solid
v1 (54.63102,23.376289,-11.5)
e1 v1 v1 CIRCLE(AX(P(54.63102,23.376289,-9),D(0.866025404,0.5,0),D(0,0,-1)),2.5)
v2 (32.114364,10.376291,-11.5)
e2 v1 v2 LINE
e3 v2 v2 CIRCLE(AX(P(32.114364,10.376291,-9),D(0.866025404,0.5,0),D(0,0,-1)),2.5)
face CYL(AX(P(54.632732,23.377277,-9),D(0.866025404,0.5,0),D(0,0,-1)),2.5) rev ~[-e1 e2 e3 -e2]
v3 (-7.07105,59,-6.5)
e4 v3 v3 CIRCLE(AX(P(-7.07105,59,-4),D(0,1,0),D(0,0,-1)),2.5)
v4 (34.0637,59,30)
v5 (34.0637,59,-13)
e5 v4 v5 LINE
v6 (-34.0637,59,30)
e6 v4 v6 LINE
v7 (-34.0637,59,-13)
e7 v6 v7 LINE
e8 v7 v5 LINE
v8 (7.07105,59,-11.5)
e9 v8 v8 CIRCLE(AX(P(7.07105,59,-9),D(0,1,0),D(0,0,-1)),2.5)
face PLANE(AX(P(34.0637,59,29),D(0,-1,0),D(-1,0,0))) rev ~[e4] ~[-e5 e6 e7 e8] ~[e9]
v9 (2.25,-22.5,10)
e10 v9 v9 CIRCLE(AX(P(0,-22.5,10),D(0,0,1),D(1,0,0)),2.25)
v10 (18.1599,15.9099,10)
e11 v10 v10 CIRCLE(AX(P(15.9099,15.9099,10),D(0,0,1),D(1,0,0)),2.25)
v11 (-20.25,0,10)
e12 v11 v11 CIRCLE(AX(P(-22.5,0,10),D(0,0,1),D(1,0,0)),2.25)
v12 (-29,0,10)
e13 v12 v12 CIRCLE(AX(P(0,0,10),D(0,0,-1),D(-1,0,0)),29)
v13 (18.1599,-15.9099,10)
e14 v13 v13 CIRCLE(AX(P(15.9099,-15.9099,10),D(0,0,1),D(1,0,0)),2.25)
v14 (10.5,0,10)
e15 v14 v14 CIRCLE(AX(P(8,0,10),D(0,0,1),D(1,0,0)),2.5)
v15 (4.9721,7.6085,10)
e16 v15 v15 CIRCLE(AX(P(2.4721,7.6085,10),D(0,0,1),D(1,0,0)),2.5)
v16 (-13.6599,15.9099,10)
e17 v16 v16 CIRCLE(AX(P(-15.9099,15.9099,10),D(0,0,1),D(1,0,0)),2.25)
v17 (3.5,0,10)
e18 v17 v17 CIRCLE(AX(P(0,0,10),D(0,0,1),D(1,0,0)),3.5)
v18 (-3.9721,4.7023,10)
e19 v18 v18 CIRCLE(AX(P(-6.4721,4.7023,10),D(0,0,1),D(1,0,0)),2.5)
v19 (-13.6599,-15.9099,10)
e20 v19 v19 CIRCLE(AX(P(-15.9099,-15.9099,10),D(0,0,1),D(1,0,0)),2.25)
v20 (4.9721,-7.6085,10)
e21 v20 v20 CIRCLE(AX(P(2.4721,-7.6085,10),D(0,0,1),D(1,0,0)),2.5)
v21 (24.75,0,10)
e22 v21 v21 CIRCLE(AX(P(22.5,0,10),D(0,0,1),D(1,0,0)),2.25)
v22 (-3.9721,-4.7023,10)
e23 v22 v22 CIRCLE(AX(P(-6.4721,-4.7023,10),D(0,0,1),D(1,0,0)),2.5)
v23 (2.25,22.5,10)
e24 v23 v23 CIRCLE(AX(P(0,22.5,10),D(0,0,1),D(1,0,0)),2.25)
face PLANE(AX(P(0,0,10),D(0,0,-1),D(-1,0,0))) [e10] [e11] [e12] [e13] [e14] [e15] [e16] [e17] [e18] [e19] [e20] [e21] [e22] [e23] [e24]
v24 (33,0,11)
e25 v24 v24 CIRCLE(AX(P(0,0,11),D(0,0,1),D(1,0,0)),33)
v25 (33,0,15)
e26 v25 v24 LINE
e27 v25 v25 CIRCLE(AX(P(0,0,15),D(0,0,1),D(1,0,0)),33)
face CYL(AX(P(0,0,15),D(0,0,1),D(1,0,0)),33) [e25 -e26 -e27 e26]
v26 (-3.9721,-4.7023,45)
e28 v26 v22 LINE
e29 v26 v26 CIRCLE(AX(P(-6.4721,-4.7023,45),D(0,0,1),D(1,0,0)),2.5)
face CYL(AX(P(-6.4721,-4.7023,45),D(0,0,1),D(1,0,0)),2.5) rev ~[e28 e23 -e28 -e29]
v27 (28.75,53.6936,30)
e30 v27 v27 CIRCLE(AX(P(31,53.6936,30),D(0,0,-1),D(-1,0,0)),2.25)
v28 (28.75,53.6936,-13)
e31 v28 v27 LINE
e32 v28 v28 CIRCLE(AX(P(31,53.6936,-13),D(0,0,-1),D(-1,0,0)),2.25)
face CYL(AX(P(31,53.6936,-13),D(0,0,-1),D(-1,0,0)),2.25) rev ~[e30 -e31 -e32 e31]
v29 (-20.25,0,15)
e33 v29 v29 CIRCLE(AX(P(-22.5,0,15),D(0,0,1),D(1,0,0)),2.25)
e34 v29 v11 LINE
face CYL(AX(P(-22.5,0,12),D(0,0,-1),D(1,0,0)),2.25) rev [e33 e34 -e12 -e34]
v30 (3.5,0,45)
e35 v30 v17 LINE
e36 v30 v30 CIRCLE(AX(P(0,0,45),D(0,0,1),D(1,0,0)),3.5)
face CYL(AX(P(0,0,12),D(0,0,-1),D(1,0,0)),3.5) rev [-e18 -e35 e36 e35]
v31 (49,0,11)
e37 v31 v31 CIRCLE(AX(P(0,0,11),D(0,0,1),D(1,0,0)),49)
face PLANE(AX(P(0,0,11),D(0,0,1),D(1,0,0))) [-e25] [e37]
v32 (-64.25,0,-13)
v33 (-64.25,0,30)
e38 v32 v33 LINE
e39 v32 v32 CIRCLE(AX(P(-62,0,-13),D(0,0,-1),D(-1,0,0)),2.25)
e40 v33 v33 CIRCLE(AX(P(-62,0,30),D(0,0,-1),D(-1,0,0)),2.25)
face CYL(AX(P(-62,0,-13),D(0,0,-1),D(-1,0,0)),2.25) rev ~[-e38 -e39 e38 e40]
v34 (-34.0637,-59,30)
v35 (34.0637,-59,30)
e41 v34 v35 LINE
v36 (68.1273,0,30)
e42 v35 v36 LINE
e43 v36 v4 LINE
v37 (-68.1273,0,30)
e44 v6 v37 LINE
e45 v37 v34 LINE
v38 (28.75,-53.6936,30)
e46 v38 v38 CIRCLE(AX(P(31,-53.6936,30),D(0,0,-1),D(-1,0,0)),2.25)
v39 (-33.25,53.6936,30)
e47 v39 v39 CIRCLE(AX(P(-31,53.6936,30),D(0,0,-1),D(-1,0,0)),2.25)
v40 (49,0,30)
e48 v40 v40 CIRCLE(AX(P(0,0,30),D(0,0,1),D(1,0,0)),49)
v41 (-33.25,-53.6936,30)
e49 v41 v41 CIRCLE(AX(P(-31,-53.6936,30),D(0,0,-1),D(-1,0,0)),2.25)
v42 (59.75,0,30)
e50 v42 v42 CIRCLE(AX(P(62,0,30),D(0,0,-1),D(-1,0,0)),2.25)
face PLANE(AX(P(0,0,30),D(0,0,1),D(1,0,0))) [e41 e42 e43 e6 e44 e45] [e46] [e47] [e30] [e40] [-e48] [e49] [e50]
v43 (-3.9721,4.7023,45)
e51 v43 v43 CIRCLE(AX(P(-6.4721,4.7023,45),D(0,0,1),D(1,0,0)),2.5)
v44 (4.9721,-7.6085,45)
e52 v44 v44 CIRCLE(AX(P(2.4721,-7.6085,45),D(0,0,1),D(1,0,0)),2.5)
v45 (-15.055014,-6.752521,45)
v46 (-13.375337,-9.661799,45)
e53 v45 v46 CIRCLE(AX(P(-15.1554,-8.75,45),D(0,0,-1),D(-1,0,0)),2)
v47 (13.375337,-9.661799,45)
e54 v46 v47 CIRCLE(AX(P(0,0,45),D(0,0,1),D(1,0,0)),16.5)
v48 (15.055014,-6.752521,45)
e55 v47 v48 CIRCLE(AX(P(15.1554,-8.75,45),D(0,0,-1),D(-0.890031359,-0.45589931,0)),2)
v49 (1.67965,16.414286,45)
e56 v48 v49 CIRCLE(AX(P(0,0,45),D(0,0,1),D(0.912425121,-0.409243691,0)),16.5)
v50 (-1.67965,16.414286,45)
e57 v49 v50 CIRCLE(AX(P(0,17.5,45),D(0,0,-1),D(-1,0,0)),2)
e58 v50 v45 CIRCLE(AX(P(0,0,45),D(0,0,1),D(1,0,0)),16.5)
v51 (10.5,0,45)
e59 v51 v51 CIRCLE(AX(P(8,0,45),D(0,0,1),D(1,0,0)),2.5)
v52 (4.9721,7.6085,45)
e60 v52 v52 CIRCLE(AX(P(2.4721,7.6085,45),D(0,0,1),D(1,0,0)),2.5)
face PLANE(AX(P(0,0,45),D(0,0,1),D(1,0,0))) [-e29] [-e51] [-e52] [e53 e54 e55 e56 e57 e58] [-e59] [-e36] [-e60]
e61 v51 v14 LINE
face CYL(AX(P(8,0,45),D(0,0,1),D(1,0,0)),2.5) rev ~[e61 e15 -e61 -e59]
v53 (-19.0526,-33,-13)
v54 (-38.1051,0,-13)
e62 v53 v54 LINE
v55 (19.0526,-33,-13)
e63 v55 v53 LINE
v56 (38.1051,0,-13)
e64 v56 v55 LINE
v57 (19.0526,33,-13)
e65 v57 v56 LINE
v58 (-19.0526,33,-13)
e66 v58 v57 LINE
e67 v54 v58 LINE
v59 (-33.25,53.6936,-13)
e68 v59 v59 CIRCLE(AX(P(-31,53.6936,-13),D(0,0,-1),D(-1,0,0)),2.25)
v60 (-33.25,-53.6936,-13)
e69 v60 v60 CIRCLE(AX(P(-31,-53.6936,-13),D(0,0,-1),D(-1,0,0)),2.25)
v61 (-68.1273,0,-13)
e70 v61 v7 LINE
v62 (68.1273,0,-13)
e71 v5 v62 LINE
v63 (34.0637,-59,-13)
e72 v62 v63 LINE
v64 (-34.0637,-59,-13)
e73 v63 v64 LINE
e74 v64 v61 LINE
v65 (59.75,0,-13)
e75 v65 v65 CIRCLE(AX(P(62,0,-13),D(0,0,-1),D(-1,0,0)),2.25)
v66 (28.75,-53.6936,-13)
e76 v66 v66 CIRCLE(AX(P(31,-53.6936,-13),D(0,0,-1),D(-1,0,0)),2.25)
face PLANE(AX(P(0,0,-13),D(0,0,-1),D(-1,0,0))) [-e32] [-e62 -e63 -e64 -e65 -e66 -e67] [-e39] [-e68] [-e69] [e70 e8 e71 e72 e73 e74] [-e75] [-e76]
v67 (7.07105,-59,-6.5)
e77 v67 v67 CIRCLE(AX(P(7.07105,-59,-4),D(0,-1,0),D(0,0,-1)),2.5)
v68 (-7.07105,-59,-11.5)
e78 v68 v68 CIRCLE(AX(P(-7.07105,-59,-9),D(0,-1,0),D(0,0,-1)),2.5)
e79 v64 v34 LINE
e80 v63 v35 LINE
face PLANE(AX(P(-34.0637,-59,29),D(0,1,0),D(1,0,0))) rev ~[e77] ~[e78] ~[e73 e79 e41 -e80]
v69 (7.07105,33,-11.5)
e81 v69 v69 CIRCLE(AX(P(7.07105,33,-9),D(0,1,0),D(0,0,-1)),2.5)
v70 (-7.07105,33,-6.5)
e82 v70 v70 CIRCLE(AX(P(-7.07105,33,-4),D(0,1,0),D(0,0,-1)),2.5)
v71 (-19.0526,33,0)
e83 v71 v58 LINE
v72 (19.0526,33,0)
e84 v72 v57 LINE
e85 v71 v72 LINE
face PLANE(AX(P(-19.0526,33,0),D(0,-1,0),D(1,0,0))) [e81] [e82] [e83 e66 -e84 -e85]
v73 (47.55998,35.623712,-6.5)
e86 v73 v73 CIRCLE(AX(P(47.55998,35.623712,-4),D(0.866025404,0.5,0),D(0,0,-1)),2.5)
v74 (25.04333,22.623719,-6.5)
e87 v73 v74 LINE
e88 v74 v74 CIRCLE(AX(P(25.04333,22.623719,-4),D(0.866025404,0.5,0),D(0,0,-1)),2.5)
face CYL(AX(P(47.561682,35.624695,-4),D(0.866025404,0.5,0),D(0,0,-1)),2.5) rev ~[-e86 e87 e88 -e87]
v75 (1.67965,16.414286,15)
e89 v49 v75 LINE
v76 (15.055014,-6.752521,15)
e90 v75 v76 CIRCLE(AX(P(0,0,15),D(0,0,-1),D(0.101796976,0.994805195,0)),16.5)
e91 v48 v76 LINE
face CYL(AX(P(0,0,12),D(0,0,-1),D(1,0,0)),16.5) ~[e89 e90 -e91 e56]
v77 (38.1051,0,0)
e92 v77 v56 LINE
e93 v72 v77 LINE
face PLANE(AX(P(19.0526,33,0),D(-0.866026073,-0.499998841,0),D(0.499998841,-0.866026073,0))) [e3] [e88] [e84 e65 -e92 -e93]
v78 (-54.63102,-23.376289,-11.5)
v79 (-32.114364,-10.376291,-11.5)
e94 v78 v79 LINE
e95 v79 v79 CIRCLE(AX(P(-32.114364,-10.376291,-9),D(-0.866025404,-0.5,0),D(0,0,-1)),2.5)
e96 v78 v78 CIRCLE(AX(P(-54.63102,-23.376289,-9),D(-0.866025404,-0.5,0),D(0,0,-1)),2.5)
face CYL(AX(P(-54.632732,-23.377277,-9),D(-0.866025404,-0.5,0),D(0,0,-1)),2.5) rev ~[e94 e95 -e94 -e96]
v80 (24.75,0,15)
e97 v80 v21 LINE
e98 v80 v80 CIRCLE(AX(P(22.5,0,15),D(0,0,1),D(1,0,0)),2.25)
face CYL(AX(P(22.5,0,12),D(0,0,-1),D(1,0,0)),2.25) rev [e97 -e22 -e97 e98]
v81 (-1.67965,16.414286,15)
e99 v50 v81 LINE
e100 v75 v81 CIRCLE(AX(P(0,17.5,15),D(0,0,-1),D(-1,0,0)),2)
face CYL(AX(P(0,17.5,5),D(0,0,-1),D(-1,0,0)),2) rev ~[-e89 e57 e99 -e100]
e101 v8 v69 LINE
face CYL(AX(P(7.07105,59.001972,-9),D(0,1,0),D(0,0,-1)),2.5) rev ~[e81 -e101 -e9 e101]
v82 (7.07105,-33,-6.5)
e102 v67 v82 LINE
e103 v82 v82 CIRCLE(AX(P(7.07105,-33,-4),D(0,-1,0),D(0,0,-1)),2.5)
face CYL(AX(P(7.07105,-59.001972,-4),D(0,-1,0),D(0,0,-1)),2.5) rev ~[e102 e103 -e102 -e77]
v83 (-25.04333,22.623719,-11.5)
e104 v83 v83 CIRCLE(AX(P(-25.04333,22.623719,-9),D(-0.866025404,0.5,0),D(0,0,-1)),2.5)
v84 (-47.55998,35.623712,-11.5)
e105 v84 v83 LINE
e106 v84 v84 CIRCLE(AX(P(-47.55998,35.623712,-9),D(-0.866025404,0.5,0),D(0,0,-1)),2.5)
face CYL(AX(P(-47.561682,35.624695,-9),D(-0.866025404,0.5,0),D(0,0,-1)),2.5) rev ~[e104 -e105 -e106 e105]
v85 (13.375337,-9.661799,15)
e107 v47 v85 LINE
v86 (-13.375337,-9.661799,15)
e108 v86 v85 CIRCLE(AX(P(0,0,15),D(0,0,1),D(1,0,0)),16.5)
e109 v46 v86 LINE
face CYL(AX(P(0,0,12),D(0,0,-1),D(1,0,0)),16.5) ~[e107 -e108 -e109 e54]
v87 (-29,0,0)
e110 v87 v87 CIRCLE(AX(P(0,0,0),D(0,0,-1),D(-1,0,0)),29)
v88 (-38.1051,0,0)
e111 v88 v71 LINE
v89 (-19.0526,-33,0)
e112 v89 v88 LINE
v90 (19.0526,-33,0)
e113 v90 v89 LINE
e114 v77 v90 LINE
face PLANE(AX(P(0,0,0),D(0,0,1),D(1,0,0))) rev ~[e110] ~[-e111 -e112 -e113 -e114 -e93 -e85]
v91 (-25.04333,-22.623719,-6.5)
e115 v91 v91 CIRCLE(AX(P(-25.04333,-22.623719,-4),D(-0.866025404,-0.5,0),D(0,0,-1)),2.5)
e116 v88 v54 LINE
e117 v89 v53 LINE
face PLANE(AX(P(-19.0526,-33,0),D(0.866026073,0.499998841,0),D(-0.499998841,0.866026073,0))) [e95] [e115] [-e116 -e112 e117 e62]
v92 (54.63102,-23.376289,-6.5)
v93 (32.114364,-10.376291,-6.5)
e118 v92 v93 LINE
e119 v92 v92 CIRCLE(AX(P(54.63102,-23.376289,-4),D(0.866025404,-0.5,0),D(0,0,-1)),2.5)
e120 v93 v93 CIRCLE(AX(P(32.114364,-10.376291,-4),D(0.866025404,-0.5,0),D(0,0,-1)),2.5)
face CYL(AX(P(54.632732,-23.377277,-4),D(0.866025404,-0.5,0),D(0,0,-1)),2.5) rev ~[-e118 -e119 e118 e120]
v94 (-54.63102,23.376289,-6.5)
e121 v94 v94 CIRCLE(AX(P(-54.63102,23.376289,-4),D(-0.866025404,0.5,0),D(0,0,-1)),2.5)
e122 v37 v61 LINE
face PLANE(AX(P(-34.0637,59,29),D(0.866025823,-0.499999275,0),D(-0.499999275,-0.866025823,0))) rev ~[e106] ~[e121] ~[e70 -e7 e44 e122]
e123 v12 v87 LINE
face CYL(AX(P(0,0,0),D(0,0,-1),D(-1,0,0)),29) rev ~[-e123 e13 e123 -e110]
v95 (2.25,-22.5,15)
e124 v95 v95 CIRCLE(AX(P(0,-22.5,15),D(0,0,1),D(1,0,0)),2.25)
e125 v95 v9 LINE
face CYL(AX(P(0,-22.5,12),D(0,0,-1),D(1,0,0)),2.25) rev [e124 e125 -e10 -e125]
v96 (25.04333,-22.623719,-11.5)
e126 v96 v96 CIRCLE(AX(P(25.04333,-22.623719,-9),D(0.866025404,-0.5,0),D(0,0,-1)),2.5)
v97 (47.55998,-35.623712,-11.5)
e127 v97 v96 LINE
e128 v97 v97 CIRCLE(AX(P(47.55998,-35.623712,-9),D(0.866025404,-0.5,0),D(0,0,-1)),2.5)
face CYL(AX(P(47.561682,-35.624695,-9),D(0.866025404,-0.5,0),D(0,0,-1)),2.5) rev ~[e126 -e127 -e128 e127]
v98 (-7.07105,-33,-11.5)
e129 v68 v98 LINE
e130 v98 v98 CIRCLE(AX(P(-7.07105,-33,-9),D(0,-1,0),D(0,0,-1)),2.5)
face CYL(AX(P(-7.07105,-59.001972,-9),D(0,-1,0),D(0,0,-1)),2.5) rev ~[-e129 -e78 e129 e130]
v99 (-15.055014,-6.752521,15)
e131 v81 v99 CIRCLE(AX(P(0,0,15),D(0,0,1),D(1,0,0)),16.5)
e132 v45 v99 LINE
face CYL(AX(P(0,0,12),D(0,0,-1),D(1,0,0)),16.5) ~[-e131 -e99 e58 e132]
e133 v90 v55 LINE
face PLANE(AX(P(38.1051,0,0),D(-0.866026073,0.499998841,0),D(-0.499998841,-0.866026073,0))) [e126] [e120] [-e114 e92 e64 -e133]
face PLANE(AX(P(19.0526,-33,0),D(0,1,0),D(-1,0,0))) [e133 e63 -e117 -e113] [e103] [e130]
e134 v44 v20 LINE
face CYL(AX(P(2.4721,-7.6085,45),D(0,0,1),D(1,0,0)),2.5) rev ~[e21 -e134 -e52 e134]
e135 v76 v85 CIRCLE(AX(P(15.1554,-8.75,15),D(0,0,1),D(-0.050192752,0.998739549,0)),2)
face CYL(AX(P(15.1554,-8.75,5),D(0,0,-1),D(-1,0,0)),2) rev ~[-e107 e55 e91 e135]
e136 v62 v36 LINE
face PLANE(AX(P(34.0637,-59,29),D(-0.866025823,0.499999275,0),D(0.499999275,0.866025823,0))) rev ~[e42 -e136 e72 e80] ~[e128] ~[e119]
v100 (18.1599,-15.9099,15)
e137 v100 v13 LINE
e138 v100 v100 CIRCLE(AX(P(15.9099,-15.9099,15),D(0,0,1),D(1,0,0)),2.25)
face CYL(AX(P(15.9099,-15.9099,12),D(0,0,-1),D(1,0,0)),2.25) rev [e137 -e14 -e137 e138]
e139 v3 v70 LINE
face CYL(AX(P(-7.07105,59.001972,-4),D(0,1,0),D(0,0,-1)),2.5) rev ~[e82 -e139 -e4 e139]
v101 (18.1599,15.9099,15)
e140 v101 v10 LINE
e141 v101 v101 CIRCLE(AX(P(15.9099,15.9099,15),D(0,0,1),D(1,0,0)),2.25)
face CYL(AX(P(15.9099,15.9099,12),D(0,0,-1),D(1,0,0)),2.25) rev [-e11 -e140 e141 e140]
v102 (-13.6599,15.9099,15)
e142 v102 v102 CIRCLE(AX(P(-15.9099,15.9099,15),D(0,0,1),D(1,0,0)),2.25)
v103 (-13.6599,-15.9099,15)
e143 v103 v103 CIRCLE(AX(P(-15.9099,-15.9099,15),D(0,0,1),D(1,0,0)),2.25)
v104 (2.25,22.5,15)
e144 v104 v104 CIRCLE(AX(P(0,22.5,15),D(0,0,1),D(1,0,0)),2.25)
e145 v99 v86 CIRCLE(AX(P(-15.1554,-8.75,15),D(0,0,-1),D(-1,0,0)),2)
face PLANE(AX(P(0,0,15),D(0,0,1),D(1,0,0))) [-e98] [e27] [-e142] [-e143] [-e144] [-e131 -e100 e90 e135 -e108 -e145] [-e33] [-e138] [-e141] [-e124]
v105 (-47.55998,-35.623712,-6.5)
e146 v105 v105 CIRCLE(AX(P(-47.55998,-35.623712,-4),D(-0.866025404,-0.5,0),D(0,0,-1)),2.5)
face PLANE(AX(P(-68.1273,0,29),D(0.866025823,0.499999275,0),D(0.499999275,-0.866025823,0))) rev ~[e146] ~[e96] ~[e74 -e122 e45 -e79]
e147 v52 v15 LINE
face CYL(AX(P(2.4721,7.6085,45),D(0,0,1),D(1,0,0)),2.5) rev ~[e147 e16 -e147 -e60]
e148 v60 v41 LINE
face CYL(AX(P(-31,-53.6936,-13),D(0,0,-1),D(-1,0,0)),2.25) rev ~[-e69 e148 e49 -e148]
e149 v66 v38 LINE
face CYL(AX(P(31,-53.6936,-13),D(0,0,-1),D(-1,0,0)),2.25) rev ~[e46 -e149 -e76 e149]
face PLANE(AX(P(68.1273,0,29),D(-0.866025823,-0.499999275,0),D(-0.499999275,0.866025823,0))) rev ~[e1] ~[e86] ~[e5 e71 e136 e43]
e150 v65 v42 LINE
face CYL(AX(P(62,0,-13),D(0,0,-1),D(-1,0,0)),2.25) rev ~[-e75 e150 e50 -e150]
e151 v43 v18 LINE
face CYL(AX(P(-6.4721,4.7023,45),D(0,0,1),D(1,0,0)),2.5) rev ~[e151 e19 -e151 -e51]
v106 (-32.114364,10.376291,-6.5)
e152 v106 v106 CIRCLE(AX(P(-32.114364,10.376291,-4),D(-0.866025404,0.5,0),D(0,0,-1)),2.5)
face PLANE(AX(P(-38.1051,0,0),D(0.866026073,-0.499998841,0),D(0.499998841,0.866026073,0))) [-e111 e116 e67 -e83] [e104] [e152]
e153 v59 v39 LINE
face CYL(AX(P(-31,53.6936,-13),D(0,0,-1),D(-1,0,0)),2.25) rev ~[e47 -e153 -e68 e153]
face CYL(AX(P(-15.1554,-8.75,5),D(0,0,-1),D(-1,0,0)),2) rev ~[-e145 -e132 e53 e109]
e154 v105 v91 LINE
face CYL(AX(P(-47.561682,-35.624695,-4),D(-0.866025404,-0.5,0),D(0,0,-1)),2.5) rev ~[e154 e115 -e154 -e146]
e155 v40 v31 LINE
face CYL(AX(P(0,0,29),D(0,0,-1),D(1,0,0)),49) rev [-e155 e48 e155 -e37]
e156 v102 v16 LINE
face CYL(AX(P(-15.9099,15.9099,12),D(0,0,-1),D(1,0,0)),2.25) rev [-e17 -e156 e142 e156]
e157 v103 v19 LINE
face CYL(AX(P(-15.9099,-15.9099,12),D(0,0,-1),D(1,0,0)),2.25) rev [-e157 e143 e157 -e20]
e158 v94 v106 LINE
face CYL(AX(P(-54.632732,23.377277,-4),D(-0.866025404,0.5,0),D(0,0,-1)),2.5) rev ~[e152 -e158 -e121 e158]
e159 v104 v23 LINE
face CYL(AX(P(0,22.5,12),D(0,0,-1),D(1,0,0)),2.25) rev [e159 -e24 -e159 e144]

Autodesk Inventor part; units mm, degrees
ref_plane "YZ Plane" through (0, 0, 0) normal (1, 0, 0) x (0, 1, 0)
ref_plane "XZ Plane" through (0, 0, 0) normal (0, 1, 0) x (-1, 0, 0)
ref_plane "XY Plane" through (0, 0, 0) normal (0, 0, 1) x (1, 0, 0)
sketch "Sketch1" plane through (0, 0, 0) normal (0, 0, 1) x (1, 0, 0)
  circle A0 centre (0, 0) radius 3.5
  line L0 (77.9423, 0) -> (38.9711, -67.5)
  line L1 (38.9711, -67.5) -> (-38.9711, -67.5)
  line L2 (-38.9711, -67.5) -> (-77.9423, 0)
  line L3 (-77.9423, 0) -> (-38.9711, 67.5)
  line L4 (-38.9711, 67.5) -> (38.9711, 67.5)
  line L5 (38.9711, 67.5) -> (77.9423, 0)
  circle A1 centre (22.5, 0) radius 2.25
  circle A2 centre (54, 0) radius 2
  circle A3 centre (15.9099, 15.9099) radius 2.25
  circle A4 centre (0, 22.5) radius 2.25
  circle A5 centre (-15.9099, 15.9099) radius 2.25
  circle A6 centre (-22.5, 0) radius 2.25
  circle A7 centre (-15.9099, -15.9099) radius 2.25
  circle A8 centre (0, -22.5) radius 2.25
  circle A9 centre (15.9099, -15.9099) radius 2.25
  circle A10 centre (46.7654, 27) radius 2
  circle A11 centre (27, 46.7654) radius 2
  circle A12 centre (0, 54) radius 2
  circle A13 centre (-27, 46.7654) radius 2
  circle A14 centre (-46.7654, 27) radius 2
  circle A15 centre (-54, 0) radius 2
  circle A16 centre (-46.7654, -27) radius 2
  circle A17 centre (-27, -46.7654) radius 2
  circle A18 centre (0, -54) radius 2
  circle A19 centre (27, -46.7654) radius 2
  circle A20 centre (46.7654, -27) radius 2
  dimension "d0" = 7
  dimension "d1" = 135
  dimension "d2" = 22.5
  dimension "d3" = 4.5
  dimension "d4" = 4
  dimension "d5" = 54
  dimension "d8" = 360
  dimension "d12" = 360
extrude "Extrusion1" add sketch "Sketch1" along normal blind 30
sketch "Sketch2" plane through (0, 0, 30) normal (0, 0, 1) x (1, 0, 0)
  circle A0 centre (0, 0) radius 3.5 projected
  circle A1 centre (0, 0) radius 49
  dimension "d16" = 98
extrude "Extrusion2" cut sketch "Sketch2" against normal blind 15
sketch "Sketch3" plane through (0, 0, 15) normal (0, 0, 1) x (1, 0, 0)
  circle A0 centre (0, 0) radius 33
  dimension "d19" = 66
extrude "Extrusion3" cut sketch "Sketch3" against normal blind 3
sketch "Sketch4" plane through (0, 0, 12) normal (0, 0, 1) x (1, 0, 0)
  circle A0 centre (0, 0) radius 16.5
  circle A1 centre (0, 0) radius 3.5 projected
  dimension "d22" = 33
extrude "Extrusion4" add sketch "Sketch4" along normal blind 33
sketch "Sketch5" plane through (0, 0, 45) normal (0, 0, 1) x (1, 0, 0)
  circle A0 centre (8, 0) radius 2.5
  circle A1 centre (2.4721, 7.6085) radius 2.5
  circle A2 centre (-6.4721, 4.7023) radius 2.5
  circle A3 centre (-6.4721, -4.7023) radius 2.5
  circle A4 centre (2.4721, -7.6085) radius 2.5
  point P0 (0, 0)
  dimension "d25" = 5
  dimension "d26" = 8
  dimension "d29" = 360
extrude "Extrusion5" cut sketch "Sketch5" against normal through all
sketch "Sketch6" plane through (0, 0, 0) normal (0, 0, -1) x (-1, 0, 0)
  circle A0 centre (0, 0) radius 17.5
  dimension "d33" = 35
extrude "Extrusion6" cut sketch "Sketch6" against normal blind 5
sketch "Sketch10" plane through (0, 0, 0) normal (0, 0, -1) x (-1, 0, 0)
  circle A0 centre (22.5, 0) radius 2.25 projected
  circle A1 centre (0, 0) radius 3.5 projected
  circle A2 centre (0, 0) radius 20.25
  circle A3 centre (0, 0) radius 24.75
  circle A4 centre (0, 0) radius 16
  circle A5 centre (0, 0) radius 29
  line L0 (29, 0) -> (16, 0)
  dimension "d38" = 13
extrude "Extrusion7" cut sketch "Sketch10" against normal blind 5 contours L0 A0 | A2 | A3 | A5 | A0 L0
sketch "Sketch11" plane through (0, 0, 12) normal (0, 0, 1) x (1, 0, 0)
  circle A0 centre (0, 0) radius 16.5 projected
  circle A1 centre (15.9099, -15.9099) radius 2.25 projected
  circle A2 centre (0, -22.5) radius 2.25 projected
  circle A3 centre (-15.9099, -15.9099) radius 2.25 projected
  circle A4 centre (-22.5, 0) radius 2.25 projected
  circle A5 centre (-15.9099, 15.9099) radius 2.25 projected
  circle A6 centre (0, 22.5) radius 2.25 projected
  circle A7 centre (15.9099, 15.9099) radius 2.25 projected
  circle A8 centre (22.5, 0) radius 2.25 projected
  circle A9 centre (0, 0) radius 33 projected
extrude "Extrusion8" add sketch "Sketch11" along normal up to surface (3 mm away) from surface at 0
sketch "Sketch12" plane through (0, 0, 30) normal (0, 0, 1) x (1, 0, 0)
  circle A0 centre (0, 0) radius 49 projected
  circle A1 centre (46.7654, -27) radius 2 projected
  circle A2 centre (27, -46.7654) radius 2 projected
  circle A3 centre (0, -54) radius 2 projected
  circle A4 centre (-27, -46.7654) radius 2 projected
  circle A5 centre (-46.7654, -27) radius 2 projected
  circle A6 centre (-54, 0) radius 2 projected
  circle A7 centre (-46.7654, 27) radius 2 projected
  circle A8 centre (-27, 46.7654) radius 2 projected
  circle A9 centre (0, 54) radius 2 projected
  circle A10 centre (27, 46.7654) radius 2 projected
  circle A11 centre (46.7654, 27) radius 2 projected
  circle A12 centre (54, 0) radius 2 projected
  line L0 (38.9711, -67.5) -> (77.9423, 0) projected
  line L1 (77.9423, 0) -> (38.9711, 67.5) projected
  line L2 (38.9711, 67.5) -> (-38.9711, 67.5) projected
  line L3 (-38.9711, 67.5) -> (-77.9423, 0) projected
  line L4 (-77.9423, 0) -> (-38.9711, -67.5) projected
  line L5 (-38.9711, -67.5) -> (38.9711, -67.5) projected
extrude "Extrusion9" cut sketch "Sketch12" against normal blind 1
sketch "Sketch14" plane through (0, 0, 15) normal (0, 0, 1) x (1, 0, 0)
  circle A0 centre (0, 0) radius 3.5 projected
  circle A1 centre (0, 0) radius 33
  circle A2 centre (15.9099, -15.9099) radius 2.25 projected
  circle A3 centre (0, -22.5) radius 2.25 projected
  circle A4 centre (-15.9099, -15.9099) radius 2.25 projected
  circle A5 centre (-22.5, 0) radius 2.25 projected
  circle A6 centre (-15.9099, 15.9099) radius 2.25 projected
  circle A7 centre (0, 22.5) radius 2.25 projected
  circle A8 centre (15.9099, 15.9099) radius 2.25 projected
  circle A9 centre (22.5, 0) radius 2.25 projected
  circle A10 centre (0, 0) radius 16.5 projected
  circle A11 centre (0, 0) radius 49 projected
  dimension "d45" = 66
extrude "Extrusion10" cut sketch "Sketch14" against normal blind 4 contours A11
sketch "Sketch15" plane through (0, 0, 29) normal (0, 0, 1) x (1, 0, 0)
  circle A0 centre (0, 0) radius 49 construction
  circle A1 centre (54, 0) radius 2 construction
  circle A2 centre (46.7654, 27) radius 2 construction
  circle A3 centre (27, 46.7654) radius 2 construction
  circle A4 centre (0, 54) radius 2 construction
  circle A5 centre (-27, 46.7654) radius 2 construction
  circle A6 centre (-46.7654, 27) radius 2 construction
  circle A7 centre (-54, 0) radius 2 construction
  circle A8 centre (-46.7654, -27) radius 2 construction
  circle A9 centre (-27, -46.7654) radius 2 construction
  circle A10 centre (0, -54) radius 2 construction
  circle A11 centre (27, -46.7654) radius 2 construction
  circle A12 centre (46.7654, -27) radius 2 construction
  line L0 (77.9423, 0) -> (38.9711, -67.5) projected
  line L1 (38.9711, 67.5) -> (77.9423, 0) projected
  line L2 (-38.9711, 67.5) -> (38.9711, 67.5) projected
  line L3 (-77.9423, 0) -> (-38.9711, 67.5) projected
  line L4 (-38.9711, -67.5) -> (-77.9423, 0) projected
  line L5 (38.9711, -67.5) -> (-38.9711, -67.5) projected
  line L6 (36.0844, 62.5) -> (72.1688, 0)
  line L7 (72.1688, 0) -> (36.0844, -62.5)
  line L8 (36.0844, -62.5) -> (-36.0844, -62.5)
  line L9 (-36.0844, -62.5) -> (-72.1688, 0)
  line L10 (-72.1688, 0) -> (-36.0844, 62.5)
  line L11 (-36.0844, 62.5) -> (36.0844, 62.5)
  dimension "d48" = 5
extrude "Extrusion11" add sketch "Sketch15" along normal blind 0.8
sketch "Sketch16" plane through (0, 0, 0) normal (0, 0, -1) x (-1, 0, 0)
  circle A0 centre (0, 0) radius 29 projected
  circle A1 centre (-46.7654, -27) radius 2 projected
  circle A2 centre (-27, -46.7654) radius 2 projected
  circle A3 centre (0, -54) radius 2 projected
  circle A4 centre (27, -46.7654) radius 2 projected
  circle A5 centre (46.7654, -27) radius 2 projected
  circle A6 centre (54, 0) radius 2 projected
  circle A7 centre (46.7654, 27) radius 2 projected
  circle A8 centre (27, 46.7654) radius 2 projected
  circle A9 centre (0, 54) radius 2 projected
  circle A10 centre (-27, 46.7654) radius 2 projected
  circle A11 centre (-46.7654, 27) radius 2 projected
  circle A12 centre (-54, 0) radius 2 projected
  line L0 (-77.9423, 0) -> (-38.9711, -67.5) projected
  line L1 (-38.9711, -67.5) -> (38.9711, -67.5) projected
  line L2 (38.9711, -67.5) -> (77.9423, 0) projected
  line L3 (77.9423, 0) -> (38.9711, 67.5) projected
  line L4 (38.9711, 67.5) -> (-38.9711, 67.5) projected
  line L5 (-38.9711, 67.5) -> (-77.9423, 0) projected
  line L6 (68.1273, 0) -> (34.0637, -59)
  line L7 (34.0637, -59) -> (-34.0637, -59)
  line L8 (-34.0637, -59) -> (-68.1273, 0)
  line L9 (-68.1273, 0) -> (-34.0637, 59)
  line L10 (-34.0637, 59) -> (34.0637, 59)
  line L11 (34.0637, 59) -> (68.1273, 0)
  dimension "d51" = 118
extrude "Extrusion12" cut sketch "Sketch16" along normal through all both and the other way through all contours L5 L4 L3 L2 L1 L0
sketch "Sketch17" plane through (0, 0, 0) normal (0, 0, -1) x (-1, 0, 0)
  circle A0 centre (0, -54) radius 2 projected
  circle A1 centre (0, -54) radius 2
  circle A2 centre (27, -46.7654) radius 2
  circle A3 centre (46.7654, -27) radius 2
  circle A4 centre (54, 0) radius 2
  circle A5 centre (46.7654, 27) radius 2
  circle A6 centre (27, 46.7654) radius 2
  circle A7 centre (0, 54) radius 2
  circle A8 centre (-27, 46.7654) radius 2
  circle A9 centre (-46.7654, 27) radius 2
  circle A10 centre (-54, 0) radius 2
  circle A11 centre (-46.7654, -27) radius 2
  circle A12 centre (-27, -46.7654) radius 2
  point P0 (0, 0)
  dimension "d56" = 360
extrude "Extrusion13" add sketch "Sketch17" along normal up to surface (29 mm away) from surface at -29
sketch "Sketch18" plane through (0, 0, 0) normal (0, 0, -1) x (-1, 0, 0)
  line L0 (-46.188, 0) -> (-23.094, 40)
  line L1 (-23.094, 40) -> (23.094, 40)
  line L2 (23.094, 40) -> (46.188, 0)
  line L3 (46.188, 0) -> (23.094, -40)
  line L4 (23.094, -40) -> (-23.094, -40)
  line L5 (-23.094, -40) -> (-46.188, 0)
  line L6 (-19.0526, -33) -> (19.0526, -33)
  line L7 (19.0526, -33) -> (38.1051, 0)
  line L8 (38.1051, 0) -> (19.0526, 33)
  line L9 (19.0526, 33) -> (-19.0526, 33)
  line L10 (-19.0526, 33) -> (-38.1051, 0)
  line L11 (-38.1051, 0) -> (-19.0526, -33)
  line L12 (-34.0637, -59) -> (34.0637, -59) projected
  line L13 (34.0637, -59) -> (68.1273, 0) projected
  line L14 (68.1273, 0) -> (34.0637, 59) projected
  line L15 (34.0637, 59) -> (-34.0637, 59) projected
  line L16 (-34.0637, 59) -> (-68.1273, 0) projected
  line L17 (-68.1273, 0) -> (-34.0637, -59) projected
  circle A0 centre (0, 0) radius 29 projected
  dimension "d60" = 80
  dimension "d61" = 7
extrude "Extrusion14" add sketch "Sketch18" along normal blind 13 contours L0 L1 L2 L3 L4 L5 | L17 L16 L15 L14 L13 L12
sketch "Sketch19" plane through (68.1273, 0, 29) normal (0.866, 0.5, 0) x (0, 0, -1)
  line L0 (29, 15.0111) -> (29, 53.1162) projected
  line L1 (29, 15.0111) -> (42, 15.0111) projected
  line L2 (42, 53.1162) -> (42, 15.0111) projected
  line L3 (29, 53.1162) -> (42, 53.1162) projected
  line L4 (38, 26.9926) -> (33, 41.1347) construction
  circle A0 centre (38, 26.9926) radius 2.5
  circle A1 centre (33, 41.1347) radius 2.5
  point P0 (29, 34.0637)
  point P1 (35.5, 15.0111)
  point P2 (35.5, 34.0637)
  point P3 (29, 34.0637)
  dimension "d64" = 15
  dimension "d65" = 5
  dimension "d66" = 5
  dimension "d72" = 5
extrude "Extrusion15" cut sketch "Sketch19" against normal blind 30 contours A0 | A1
pattern_circular "Circular Pattern1" count 6 over 360 about axis through (0, 0, 0) along (0, 0, 1) of "Extrusion15"
sketch "Sketch21" plane through (0, 0, 5) normal (0, 0, -1) x (-1, 0, 0)
  circle A0 centre (0, 17.5) radius 2
  circle A1 centre (-15.1554, -8.75) radius 2
  circle A2 centre (15.1554, -8.75) radius 2
  point P0 (0, 0)
  dimension "d74" = 4
  dimension "d75" = 17.5
  dimension "d78" = 360
extrude "Extrusion16" cut sketch "Sketch21" against normal through all
sketch "Sketch22" plane through (0, 0, 5) normal (0, 0, -1) x (-1, 0, 0)
  circle A0 centre (-15.1554, -8.75) radius 2 projected
  circle A1 centre (0, 17.5) radius 2 projected
  circle A2 centre (15.1554, -8.75) radius 2 projected
  circle A3 centre (0, 0) radius 29 projected
  circle A4 centre (-22.5, 0) radius 2.25 projected
  circle A5 centre (-15.9099, 15.9099) radius 2.25 projected
  circle A6 centre (0, 22.5) radius 2.25 projected
  circle A7 centre (15.9099, 15.9099) radius 2.25 projected
  circle A8 centre (22.5, 0) radius 2.25 projected
  circle A9 centre (15.9099, -15.9099) radius 2.25 projected
  circle A10 centre (0, -22.5) radius 2.25 projected
  circle A11 centre (-15.9099, -15.9099) radius 2.25 projected
  circle A12 centre (0, 0) radius 3.5 projected
extrude "Extrusion17" cut sketch "Sketch22" against normal blind 5
sketch "Sketch23" plane through (0, 0, 10) normal (0, 0, -1) x (-1, 0, 0)
  circle A0 centre (0, 0) radius 3.5 projected
  circle A1 centre (0, 0) radius 14.5
  dimension "d84" = 29
extrude "Extrusion18" [suppressed]
sketch "Sketch24" plane through (0, 0, 29) normal (0, 0, 1) x (1, 0, 0)
  line L0 (-34.0637, -59) -> (34.0637, -59) projected
  line L1 (34.0637, -59) -> (68.1273, 0) projected
  line L2 (68.1273, 0) -> (34.0637, 59) projected
  line L3 (34.0637, 59) -> (-34.0637, 59) projected
  line L4 (-34.0637, 59) -> (-68.1273, 0) projected
  line L5 (-68.1273, 0) -> (-34.0637, -59) projected
  circle A0 centre (0, 0) radius 49 projected
extrude "Extrusion19" add sketch "Sketch24" along normal blind 1
sketch "Sketch25" plane through (0, 0, 10) normal (0, 0, -1) x (-1, 0, 0)
  circle A0 centre (-15.1554, -8.75) radius 2 projected
  circle A1 centre (0, 17.5) radius 2 projected
  circle A2 centre (15.1554, -8.75) radius 2 projected
  point P0 (0, 0)
extrude "Extrusion20" add sketch "Sketch25" against normal up to surface (5 mm away) from surface at 0
sketch "Sketch26" plane through (0, 0, -13) normal (0, 0, -1) x (-1, 0, 0)
  circle A0 centre (-62, 0) radius 2.25
  circle A1 centre (-31, -53.6936) radius 2.25
  circle A2 centre (31, -53.6936) radius 2.25
  circle A3 centre (62, 0) radius 2.25
  circle A4 centre (31, 53.6936) radius 2.25
  circle A5 centre (-31, 53.6936) radius 2.25
  point P0 (0, 0)
  dimension "d91" = 4.5
  dimension "d92" = 62
  dimension "d95" = 360
extrude "Extrusion21" cut sketch "Sketch26" against normal through all
properties part number "AC05" material "ABS Plastic"
